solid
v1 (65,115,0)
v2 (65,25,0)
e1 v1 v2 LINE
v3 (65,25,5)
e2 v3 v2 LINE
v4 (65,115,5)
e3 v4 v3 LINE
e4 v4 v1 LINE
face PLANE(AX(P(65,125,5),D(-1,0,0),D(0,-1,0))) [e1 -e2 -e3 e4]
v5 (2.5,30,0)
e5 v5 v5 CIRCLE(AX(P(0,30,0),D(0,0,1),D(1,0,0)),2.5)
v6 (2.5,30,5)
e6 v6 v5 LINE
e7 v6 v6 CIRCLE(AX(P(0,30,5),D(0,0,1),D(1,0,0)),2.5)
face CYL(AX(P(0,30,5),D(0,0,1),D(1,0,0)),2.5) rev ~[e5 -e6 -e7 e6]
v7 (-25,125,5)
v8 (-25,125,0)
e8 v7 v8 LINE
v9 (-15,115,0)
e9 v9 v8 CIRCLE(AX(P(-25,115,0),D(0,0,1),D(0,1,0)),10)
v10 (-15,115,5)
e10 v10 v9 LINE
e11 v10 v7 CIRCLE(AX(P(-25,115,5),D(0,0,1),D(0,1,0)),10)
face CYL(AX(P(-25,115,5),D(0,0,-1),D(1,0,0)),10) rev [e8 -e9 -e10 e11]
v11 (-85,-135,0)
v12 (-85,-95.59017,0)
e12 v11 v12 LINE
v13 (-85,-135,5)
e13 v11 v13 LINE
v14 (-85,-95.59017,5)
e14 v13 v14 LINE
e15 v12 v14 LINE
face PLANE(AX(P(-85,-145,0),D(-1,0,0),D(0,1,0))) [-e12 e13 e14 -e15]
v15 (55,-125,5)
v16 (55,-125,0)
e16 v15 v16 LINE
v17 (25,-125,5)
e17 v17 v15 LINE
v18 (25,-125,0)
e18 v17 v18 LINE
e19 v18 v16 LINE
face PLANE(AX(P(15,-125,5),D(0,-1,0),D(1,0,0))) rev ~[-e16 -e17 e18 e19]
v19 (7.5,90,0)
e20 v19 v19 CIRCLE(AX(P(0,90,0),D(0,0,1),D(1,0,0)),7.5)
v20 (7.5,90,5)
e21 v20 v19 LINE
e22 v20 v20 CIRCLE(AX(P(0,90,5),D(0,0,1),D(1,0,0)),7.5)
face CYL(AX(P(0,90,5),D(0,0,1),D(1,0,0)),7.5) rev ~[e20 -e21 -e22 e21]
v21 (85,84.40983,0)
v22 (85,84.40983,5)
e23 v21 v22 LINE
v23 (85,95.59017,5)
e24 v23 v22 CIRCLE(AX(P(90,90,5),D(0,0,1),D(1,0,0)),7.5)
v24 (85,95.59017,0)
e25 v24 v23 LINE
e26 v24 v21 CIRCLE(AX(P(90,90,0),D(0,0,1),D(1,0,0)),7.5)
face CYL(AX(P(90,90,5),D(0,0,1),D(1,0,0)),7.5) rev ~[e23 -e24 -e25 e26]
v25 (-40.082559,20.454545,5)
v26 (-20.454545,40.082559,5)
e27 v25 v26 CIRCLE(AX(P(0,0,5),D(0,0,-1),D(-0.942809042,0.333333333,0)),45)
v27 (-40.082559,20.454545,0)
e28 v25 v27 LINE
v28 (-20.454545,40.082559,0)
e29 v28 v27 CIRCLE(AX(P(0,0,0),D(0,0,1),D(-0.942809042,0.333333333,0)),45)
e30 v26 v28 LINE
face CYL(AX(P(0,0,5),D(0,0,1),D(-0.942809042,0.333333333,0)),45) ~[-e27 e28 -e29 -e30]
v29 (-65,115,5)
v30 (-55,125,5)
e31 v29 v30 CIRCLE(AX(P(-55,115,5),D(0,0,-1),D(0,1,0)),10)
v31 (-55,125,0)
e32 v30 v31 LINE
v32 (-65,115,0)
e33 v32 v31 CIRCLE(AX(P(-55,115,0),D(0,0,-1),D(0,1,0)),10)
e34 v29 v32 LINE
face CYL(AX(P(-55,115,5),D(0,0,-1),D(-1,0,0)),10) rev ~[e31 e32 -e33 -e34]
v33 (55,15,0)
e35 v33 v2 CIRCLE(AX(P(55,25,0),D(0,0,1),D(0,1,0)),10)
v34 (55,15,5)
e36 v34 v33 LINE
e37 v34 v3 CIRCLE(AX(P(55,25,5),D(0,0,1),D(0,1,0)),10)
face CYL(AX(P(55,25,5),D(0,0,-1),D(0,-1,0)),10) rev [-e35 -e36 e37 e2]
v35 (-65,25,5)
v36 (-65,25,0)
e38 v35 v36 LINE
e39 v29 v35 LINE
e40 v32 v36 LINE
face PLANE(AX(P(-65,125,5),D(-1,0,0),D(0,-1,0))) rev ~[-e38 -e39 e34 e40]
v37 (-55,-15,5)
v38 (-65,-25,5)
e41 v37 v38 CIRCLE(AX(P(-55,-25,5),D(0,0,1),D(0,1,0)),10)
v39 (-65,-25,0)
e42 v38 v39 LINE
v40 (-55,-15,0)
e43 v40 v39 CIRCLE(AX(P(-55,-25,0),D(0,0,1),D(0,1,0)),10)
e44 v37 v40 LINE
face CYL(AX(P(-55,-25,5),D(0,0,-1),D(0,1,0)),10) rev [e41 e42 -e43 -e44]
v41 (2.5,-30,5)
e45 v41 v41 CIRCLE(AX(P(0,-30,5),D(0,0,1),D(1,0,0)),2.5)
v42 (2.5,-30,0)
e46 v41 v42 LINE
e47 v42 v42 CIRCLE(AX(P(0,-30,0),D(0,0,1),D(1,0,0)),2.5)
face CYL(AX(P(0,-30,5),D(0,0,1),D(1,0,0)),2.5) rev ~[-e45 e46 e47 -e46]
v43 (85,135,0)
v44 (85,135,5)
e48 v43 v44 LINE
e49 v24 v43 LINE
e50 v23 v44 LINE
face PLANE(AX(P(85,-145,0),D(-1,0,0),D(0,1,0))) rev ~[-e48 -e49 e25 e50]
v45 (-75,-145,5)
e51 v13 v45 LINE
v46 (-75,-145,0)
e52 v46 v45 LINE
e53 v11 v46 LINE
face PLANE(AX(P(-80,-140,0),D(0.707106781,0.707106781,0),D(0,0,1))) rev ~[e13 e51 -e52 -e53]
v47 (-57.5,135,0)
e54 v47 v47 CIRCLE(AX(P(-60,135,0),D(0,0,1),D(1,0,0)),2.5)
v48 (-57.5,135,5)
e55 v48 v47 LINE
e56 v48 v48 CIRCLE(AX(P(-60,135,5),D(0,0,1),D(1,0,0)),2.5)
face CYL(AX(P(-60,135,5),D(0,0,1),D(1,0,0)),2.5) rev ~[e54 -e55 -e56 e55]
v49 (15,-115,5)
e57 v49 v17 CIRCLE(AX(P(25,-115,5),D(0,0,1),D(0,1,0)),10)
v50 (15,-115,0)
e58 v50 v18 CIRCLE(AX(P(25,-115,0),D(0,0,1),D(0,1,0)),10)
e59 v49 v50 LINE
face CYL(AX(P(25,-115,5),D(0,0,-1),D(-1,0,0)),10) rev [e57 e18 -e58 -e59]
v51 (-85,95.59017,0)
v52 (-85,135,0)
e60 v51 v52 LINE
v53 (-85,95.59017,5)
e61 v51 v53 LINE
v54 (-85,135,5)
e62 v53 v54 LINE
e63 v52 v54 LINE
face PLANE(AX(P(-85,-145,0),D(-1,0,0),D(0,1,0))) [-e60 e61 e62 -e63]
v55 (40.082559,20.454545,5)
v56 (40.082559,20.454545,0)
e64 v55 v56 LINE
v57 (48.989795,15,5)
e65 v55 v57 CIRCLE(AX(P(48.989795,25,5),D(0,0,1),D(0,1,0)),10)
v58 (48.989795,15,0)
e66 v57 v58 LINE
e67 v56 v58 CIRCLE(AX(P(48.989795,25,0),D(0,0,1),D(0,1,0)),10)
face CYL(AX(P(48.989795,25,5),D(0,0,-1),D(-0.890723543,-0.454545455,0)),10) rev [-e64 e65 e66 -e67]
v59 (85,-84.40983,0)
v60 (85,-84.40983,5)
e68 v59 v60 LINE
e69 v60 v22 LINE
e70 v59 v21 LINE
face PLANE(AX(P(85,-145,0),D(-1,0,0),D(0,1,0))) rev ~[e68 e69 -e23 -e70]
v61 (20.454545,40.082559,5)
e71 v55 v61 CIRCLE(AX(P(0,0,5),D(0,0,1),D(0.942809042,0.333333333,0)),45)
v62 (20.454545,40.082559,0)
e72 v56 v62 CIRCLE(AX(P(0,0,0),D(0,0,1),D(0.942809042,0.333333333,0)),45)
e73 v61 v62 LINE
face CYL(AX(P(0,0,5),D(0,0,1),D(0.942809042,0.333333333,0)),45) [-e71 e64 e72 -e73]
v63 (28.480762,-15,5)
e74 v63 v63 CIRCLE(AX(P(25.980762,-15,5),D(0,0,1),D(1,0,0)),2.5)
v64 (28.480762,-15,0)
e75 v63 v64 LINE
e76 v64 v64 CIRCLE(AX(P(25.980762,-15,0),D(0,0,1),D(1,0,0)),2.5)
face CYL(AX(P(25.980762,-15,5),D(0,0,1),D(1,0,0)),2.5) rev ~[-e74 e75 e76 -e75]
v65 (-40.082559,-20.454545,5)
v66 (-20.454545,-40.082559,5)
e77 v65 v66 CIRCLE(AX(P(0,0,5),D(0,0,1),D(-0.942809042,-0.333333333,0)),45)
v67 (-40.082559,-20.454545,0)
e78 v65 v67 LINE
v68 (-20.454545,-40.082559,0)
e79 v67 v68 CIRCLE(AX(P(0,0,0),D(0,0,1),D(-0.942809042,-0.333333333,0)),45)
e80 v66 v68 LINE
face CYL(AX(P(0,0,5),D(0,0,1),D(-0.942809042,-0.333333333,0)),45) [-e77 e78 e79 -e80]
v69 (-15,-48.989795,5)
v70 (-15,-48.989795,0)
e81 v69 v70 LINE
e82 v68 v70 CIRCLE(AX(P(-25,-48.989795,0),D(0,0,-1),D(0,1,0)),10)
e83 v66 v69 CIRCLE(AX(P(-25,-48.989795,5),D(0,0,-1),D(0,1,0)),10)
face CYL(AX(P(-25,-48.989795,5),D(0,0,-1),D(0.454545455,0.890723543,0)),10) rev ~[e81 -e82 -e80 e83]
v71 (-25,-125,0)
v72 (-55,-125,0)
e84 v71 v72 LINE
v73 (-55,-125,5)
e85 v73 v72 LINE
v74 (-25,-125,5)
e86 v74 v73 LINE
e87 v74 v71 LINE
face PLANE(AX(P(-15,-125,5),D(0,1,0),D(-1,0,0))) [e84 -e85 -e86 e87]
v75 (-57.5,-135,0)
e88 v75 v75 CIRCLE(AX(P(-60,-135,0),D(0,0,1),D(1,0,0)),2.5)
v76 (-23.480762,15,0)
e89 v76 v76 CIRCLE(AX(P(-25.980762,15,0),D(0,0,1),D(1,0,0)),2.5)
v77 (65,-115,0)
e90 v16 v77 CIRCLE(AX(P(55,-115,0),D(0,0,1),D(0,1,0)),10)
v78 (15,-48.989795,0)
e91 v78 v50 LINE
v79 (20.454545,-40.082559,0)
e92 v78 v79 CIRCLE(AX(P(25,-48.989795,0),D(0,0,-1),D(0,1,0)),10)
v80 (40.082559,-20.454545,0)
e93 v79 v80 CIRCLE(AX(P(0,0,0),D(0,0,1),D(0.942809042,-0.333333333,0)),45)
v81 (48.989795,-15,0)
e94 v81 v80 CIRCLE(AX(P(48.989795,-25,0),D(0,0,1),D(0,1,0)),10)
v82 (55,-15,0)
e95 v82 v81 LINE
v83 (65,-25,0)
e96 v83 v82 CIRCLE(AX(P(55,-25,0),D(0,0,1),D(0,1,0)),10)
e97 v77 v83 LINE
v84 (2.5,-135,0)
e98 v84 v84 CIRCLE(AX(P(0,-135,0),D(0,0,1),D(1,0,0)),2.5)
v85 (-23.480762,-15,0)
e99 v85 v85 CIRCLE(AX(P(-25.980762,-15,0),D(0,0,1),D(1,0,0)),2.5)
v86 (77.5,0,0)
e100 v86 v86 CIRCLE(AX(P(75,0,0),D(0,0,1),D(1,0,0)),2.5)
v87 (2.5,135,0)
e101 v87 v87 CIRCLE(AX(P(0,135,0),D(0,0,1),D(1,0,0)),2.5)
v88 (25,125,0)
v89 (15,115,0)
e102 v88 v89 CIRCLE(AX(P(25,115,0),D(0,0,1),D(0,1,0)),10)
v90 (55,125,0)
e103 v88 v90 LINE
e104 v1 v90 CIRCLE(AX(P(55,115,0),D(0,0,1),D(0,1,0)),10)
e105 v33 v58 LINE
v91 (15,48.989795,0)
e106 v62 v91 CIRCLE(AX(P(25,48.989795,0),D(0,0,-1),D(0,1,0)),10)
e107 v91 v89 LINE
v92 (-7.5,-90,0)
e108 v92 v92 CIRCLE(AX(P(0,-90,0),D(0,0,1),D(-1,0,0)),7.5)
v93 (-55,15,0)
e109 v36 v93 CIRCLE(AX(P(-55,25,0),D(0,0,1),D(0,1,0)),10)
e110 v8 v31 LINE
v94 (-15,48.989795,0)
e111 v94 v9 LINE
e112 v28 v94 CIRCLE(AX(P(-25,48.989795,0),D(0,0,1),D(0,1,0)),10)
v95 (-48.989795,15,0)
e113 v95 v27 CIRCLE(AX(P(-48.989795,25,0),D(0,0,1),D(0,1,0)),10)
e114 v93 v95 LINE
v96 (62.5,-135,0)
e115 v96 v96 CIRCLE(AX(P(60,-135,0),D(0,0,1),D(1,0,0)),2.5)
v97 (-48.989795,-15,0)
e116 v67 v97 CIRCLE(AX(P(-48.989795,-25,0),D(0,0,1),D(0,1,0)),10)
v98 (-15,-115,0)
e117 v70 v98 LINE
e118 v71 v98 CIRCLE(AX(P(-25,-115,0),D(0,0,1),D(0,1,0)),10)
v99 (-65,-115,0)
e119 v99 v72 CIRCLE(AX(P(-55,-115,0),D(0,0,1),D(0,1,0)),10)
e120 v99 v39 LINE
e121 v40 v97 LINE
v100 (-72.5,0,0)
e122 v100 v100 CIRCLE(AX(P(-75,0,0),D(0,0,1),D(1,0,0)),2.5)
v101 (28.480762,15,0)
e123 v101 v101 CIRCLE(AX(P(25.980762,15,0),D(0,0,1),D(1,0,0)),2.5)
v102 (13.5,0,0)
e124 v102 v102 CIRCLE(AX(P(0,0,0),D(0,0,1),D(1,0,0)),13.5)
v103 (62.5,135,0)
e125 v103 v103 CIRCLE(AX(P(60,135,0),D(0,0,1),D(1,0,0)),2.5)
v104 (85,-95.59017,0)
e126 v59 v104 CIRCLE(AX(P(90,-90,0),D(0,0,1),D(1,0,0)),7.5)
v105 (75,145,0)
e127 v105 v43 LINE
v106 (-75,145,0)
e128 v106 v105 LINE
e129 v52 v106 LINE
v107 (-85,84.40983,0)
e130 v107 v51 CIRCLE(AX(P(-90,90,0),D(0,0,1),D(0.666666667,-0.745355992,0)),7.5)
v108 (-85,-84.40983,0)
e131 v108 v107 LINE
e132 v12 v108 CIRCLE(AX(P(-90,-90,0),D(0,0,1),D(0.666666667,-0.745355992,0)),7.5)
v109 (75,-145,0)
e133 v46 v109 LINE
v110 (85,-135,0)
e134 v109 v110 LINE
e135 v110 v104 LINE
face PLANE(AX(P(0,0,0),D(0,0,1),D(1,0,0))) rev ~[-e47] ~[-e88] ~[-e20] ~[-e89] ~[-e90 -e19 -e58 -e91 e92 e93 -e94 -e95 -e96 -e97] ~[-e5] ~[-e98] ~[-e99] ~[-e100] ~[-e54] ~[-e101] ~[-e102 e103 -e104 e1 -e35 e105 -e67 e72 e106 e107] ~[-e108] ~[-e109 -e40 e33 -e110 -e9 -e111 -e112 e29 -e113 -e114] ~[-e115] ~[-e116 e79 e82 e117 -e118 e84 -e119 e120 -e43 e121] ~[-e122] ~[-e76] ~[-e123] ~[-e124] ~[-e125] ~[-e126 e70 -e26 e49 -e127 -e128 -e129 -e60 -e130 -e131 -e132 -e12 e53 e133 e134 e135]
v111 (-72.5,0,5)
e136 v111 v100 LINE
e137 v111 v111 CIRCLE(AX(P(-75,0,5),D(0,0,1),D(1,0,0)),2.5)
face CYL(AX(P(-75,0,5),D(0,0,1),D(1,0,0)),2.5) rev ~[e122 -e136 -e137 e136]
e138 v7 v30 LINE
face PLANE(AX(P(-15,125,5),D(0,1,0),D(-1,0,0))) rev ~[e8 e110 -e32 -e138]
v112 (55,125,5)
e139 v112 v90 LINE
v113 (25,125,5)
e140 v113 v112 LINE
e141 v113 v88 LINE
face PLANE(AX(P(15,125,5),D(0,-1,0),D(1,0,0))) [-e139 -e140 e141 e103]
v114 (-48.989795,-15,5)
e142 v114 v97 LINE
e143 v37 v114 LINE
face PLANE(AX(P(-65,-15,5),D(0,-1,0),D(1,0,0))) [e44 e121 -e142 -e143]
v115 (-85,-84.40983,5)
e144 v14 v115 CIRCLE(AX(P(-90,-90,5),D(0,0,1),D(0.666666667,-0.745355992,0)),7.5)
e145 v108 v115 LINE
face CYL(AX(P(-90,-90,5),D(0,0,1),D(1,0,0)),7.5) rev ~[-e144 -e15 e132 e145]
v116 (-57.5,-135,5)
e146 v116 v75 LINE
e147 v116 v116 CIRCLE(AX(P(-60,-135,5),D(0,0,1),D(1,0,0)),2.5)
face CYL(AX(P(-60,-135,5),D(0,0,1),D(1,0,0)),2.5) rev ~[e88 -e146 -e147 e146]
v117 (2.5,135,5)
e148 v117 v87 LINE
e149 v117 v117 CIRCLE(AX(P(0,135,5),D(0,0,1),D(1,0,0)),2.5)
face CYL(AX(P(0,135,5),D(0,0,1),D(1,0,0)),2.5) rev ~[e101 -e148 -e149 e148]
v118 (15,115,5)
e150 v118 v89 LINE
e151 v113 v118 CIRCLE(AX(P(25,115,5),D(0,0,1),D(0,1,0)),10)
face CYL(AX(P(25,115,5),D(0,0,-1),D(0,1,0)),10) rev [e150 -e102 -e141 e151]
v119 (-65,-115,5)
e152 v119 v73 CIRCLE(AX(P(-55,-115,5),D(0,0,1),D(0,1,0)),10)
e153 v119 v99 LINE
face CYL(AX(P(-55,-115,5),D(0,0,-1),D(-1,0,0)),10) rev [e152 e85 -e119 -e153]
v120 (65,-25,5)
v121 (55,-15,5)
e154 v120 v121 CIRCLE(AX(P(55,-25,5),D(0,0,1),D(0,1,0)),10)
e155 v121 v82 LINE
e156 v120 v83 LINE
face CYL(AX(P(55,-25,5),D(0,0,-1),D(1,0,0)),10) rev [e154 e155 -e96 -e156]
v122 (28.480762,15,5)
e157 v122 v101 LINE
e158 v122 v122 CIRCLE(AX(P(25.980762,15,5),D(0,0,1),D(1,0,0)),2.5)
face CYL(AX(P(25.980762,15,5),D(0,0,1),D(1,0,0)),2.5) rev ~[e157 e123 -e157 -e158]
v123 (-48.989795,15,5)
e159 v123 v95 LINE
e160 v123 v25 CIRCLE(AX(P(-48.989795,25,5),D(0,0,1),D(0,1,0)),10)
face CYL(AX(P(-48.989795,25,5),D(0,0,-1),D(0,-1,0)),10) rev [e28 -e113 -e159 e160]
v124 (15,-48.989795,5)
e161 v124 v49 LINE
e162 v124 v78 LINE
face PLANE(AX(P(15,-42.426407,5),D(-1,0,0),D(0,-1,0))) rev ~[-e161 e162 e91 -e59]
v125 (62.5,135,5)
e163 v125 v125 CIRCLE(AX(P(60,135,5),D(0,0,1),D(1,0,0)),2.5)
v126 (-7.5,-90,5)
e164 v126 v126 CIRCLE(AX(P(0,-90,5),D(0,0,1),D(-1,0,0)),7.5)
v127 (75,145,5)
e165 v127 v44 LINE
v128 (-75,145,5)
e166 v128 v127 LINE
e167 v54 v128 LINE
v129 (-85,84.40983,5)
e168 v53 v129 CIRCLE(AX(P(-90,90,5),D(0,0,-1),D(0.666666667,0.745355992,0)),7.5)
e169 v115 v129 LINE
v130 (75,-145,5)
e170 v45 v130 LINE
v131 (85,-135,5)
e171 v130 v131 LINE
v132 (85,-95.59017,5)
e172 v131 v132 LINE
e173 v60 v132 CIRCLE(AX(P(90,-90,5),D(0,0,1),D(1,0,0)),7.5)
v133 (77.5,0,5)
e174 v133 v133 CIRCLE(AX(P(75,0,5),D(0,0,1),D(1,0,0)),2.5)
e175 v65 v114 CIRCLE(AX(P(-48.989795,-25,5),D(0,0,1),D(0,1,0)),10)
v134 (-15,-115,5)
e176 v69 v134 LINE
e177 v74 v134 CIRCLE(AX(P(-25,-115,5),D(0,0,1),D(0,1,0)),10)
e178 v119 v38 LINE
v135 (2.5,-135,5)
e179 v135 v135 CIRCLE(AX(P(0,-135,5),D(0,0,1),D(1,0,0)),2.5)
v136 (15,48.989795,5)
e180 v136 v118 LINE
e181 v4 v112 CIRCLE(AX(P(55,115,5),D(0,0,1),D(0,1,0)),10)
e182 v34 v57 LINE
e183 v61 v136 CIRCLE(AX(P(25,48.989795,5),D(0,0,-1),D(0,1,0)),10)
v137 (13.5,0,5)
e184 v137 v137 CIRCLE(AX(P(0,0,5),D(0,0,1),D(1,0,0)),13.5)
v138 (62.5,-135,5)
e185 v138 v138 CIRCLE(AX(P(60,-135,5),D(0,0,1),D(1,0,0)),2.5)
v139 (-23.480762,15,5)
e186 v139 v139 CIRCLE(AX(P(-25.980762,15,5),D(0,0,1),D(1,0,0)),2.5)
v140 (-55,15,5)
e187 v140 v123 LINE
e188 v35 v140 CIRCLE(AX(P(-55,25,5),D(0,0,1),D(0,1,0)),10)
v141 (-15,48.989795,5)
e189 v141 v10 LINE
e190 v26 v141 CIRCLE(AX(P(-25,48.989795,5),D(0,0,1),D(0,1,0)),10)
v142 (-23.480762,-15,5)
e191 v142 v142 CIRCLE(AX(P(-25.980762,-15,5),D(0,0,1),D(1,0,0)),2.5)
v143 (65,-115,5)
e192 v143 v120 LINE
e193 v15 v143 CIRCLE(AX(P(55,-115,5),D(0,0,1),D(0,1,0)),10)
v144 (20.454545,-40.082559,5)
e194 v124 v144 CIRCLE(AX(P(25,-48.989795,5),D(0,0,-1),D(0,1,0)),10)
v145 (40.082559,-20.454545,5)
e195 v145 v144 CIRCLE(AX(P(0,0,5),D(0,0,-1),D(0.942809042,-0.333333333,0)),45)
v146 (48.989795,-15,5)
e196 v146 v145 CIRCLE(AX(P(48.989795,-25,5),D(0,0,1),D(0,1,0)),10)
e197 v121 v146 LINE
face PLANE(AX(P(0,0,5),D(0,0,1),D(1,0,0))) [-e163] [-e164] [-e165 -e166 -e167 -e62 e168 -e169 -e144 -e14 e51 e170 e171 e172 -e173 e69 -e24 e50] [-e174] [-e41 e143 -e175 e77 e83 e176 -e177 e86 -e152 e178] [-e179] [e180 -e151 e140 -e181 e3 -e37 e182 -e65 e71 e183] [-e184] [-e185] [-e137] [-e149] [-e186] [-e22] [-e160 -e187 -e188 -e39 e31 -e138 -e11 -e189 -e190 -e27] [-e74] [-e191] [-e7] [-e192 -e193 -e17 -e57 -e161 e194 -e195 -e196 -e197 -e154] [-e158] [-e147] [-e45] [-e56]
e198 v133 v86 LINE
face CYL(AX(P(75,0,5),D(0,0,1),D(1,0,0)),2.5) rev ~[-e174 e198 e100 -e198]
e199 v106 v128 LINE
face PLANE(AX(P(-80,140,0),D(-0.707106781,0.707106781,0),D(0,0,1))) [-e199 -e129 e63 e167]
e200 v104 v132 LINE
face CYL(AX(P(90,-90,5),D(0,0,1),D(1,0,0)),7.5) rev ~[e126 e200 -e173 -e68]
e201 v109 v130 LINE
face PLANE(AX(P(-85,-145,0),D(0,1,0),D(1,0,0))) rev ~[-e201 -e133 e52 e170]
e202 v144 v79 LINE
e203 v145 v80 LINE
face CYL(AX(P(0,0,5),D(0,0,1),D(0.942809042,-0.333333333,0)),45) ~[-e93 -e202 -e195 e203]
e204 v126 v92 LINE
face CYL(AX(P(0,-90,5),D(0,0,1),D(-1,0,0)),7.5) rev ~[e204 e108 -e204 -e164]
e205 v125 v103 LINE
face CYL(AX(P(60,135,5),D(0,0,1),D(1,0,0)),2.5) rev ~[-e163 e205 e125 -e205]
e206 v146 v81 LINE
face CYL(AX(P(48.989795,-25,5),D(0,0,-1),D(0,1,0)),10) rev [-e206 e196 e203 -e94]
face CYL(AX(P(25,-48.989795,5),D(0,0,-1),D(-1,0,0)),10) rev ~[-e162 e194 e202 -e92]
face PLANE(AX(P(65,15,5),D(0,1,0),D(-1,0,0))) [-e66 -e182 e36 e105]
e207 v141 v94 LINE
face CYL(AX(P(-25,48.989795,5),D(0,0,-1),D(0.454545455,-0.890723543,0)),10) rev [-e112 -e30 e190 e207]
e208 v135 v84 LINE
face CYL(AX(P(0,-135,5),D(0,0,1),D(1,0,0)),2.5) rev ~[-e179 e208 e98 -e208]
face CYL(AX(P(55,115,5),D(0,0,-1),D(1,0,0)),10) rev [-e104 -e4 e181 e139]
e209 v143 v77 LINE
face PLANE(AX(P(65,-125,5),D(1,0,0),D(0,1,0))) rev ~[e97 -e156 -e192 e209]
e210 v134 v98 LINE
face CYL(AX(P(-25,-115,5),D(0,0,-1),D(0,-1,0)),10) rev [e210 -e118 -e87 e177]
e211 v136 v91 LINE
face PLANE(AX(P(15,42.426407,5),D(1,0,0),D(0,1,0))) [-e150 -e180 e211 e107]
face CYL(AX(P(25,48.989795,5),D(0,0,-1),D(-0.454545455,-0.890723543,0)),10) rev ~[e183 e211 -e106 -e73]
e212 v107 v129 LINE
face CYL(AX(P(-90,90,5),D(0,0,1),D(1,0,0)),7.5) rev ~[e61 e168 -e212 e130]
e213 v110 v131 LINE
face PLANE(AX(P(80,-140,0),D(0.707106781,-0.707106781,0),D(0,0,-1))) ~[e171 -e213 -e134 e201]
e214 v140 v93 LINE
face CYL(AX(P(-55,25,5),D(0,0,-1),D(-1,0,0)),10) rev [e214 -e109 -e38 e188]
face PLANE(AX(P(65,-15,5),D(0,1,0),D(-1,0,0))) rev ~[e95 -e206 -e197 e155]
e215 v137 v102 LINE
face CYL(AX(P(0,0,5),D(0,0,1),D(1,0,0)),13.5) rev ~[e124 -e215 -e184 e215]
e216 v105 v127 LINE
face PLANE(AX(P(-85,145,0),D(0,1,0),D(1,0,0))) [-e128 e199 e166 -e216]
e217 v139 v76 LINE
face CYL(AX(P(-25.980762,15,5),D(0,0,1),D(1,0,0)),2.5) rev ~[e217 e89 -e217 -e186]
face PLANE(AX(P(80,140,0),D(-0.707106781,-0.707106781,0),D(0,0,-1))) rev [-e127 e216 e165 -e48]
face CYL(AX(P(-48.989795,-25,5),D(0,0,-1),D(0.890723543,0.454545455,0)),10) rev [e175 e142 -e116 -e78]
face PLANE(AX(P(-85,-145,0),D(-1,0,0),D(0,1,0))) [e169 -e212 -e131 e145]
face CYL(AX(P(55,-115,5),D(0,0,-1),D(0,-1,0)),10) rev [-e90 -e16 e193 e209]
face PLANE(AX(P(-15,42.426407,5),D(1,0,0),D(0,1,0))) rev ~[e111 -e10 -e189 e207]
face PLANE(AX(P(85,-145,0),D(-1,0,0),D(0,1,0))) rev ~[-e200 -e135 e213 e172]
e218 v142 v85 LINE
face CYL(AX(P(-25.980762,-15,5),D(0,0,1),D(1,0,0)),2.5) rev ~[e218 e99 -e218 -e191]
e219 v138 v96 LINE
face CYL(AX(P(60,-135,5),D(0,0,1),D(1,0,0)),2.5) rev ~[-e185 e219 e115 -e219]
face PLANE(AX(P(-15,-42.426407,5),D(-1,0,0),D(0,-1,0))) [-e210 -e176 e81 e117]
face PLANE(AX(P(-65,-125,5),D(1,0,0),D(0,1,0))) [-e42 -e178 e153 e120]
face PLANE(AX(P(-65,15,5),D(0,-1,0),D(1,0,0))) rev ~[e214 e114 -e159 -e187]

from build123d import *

# Parameters (mm, degrees)
SKETCH_1_W          = 170
SKETCH_1_H          = 290
EXTRUDE_1_DEPTH     = 5
SKETCH_2_R          = 13.5
CUT_EXTRUDE_1_DEPTH = 169.151717208
SKETCH_3_R          = 2.5
CUT_EXTRUDE_2_DEPTH = 169.151717208
CHAMFER_1_SIZE      = 10
SKETCH_4_R          = 7.5
SKETCH_4_R_2        = 2.5
CUT_EXTRUDE_3_DEPTH = 169.151717208
CUT_EXTRUDE_4_DEPTH = 169.151717208
FILLET_1_R          = 10


with BuildPart() as part:
    # ｽｹｯﾁ1 → ﾎﾞｽ - 押し出し1 (new body)
    with BuildSketch(Plane.XY):
        Rectangle(SKETCH_1_W, SKETCH_1_H)
    extrude(amount=EXTRUDE_1_DEPTH)

    # ｽｹｯﾁ2 → ｶｯﾄ - 押し出し1 (cut, through all)
    with BuildSketch(Plane.XY.offset(5)):
        Circle(SKETCH_2_R)
    extrude(amount=-CUT_EXTRUDE_1_DEPTH, mode=Mode.SUBTRACT)

    # ｽｹｯﾁ3 → ｶｯﾄ - 押し出し2 (cut, through all)
    with BuildSketch(Plane.XY.offset(5)):
        with Locations((-75, 0)):
            Circle(SKETCH_3_R)
        with Locations((0, 135)):
            Circle(SKETCH_3_R)
        with Locations((75, 0)):
            Circle(SKETCH_3_R)
        with Locations((0, -135)):
            Circle(SKETCH_3_R)
        with Locations((-60, 135)):
            Circle(SKETCH_3_R)
        with Locations((60, 135)):
            Circle(SKETCH_3_R)
        with Locations((60, -135)):
            Circle(SKETCH_3_R)
        with Locations((-60, -135)):
            Circle(SKETCH_3_R)
    extrude(amount=-CUT_EXTRUDE_2_DEPTH, mode=Mode.SUBTRACT)

    # 面取り1
    chamfer_1_edges = [part.edges().sort_by_distance(p)[0] for p in [
        (85, -145, 2.5),
        (-85, -145, 2.5),
        (-85, 145, 2.5),
        (85, 145, 2.5),
    ]]
    chamfer(chamfer_1_edges, length=CHAMFER_1_SIZE)

    # ｽｹｯﾁ4 → ｶｯﾄ - 押し出し3 (cut, through all)
    with BuildSketch(Plane.XY.offset(5)):
        with Locations((90, 90)):
            Circle(SKETCH_4_R)
        with Locations((0, 90)):
            Circle(SKETCH_4_R)
        with Locations((-90, 90)):
            Circle(SKETCH_4_R)
        with Locations((-90, -90)):
            Circle(SKETCH_4_R)
        with Locations(Location((0, -90, 0), (0, 0, 180))):
            Circle(SKETCH_4_R)
        with Locations((90, -90)):
            Circle(SKETCH_4_R)
        with Locations((0, -30)):
            Circle(SKETCH_4_R_2)
        with Locations((-25.980762114, -15)):
            Circle(SKETCH_4_R_2)
        with Locations((-25.980762114, 15)):
            Circle(SKETCH_4_R_2)
        with Locations((0, 30)):
            Circle(SKETCH_4_R_2)
        with Locations((25.980762114, 15)):
            Circle(SKETCH_4_R_2)
        with Locations((25.980762114, -15)):
            Circle(SKETCH_4_R_2)
    extrude(amount=-CUT_EXTRUDE_3_DEPTH, mode=Mode.SUBTRACT)

    # ｽｹｯﾁ5 → ｶｯﾄ - 押し出し4 (cut, through all)
    with BuildSketch(Plane.XY.offset(5)):
        with BuildLine():
            Line((-65, 125), (-65, 15))
            Line((-65, 15), (-42.426406871, 15))
            ThreePointArc((-42.426406871, 15), (-31.819805153, 31.819805153), (-15, 42.426406871))
            Line((-15, 42.426406871), (-15, 125))
            Line((-15, 125), (-65, 125))
        make_face()
        with BuildLine():
            Line((15, 42.426406871), (15, 125))
            Line((15, 125), (65, 125))
            Line((65, 125), (65, 15))
            Line((65, 15), (42.426406871, 15))
            ThreePointArc((42.426406871, 15), (31.819805153, 31.819805153), (15, 42.426406871))
        make_face()
        with BuildLine():
            Line((-15, -42.426406871), (-15, -125))
            Line((-15, -125), (-65, -125))
            Line((-65, -125), (-65, -15))
            Line((-65, -15), (-42.426406871, -15))
            ThreePointArc((-42.426406871, -15), (-31.819805153, -31.819805153), (-15, -42.426406871))
        make_face()
        with BuildLine():
            Line((15, -42.426406871), (15, -125))
            Line((15, -125), (65, -125))
            Line((65, -125), (65, -15))
            Line((65, -15), (42.426406871, -15))
            ThreePointArc((42.426406871, -15), (31.819805153, -31.819805153), (15, -42.426406871))
        make_face()
    extrude(amount=-CUT_EXTRUDE_4_DEPTH, mode=Mode.SUBTRACT)

    # ﾌｨﾚｯﾄ1
    fillet_1_edges = [part.edges().sort_by_distance(p)[0] for p in [
        (42.426406871, 15, 2.5),
        (15, 42.426406871, 2.5),
        (15, 125, 2.5),
        (65, 125, 2.5),
        (65, 15, 2.5),
        (-42.426406871, -15, 2.5),
        (-15, -42.426406871, 2.5),
        (-15, -125, 2.5),
        (-65, -125, 2.5),
        (-65, -15, 2.5),
        (15, -42.426406871, 2.5),
        (42.426406871, -15, 2.5),
        (65, -15, 2.5),
        (65, -125, 2.5),
        (15, -125, 2.5),
        (-65, 125, 2.5),
        (-15, 125, 2.5),
        (-15, 42.426406871, 2.5),
        (-42.426406871, 15, 2.5),
        (-65, 15, 2.5),
    ]]
    fillet(fillet_1_edges, radius=FILLET_1_R)


solid = part.part
